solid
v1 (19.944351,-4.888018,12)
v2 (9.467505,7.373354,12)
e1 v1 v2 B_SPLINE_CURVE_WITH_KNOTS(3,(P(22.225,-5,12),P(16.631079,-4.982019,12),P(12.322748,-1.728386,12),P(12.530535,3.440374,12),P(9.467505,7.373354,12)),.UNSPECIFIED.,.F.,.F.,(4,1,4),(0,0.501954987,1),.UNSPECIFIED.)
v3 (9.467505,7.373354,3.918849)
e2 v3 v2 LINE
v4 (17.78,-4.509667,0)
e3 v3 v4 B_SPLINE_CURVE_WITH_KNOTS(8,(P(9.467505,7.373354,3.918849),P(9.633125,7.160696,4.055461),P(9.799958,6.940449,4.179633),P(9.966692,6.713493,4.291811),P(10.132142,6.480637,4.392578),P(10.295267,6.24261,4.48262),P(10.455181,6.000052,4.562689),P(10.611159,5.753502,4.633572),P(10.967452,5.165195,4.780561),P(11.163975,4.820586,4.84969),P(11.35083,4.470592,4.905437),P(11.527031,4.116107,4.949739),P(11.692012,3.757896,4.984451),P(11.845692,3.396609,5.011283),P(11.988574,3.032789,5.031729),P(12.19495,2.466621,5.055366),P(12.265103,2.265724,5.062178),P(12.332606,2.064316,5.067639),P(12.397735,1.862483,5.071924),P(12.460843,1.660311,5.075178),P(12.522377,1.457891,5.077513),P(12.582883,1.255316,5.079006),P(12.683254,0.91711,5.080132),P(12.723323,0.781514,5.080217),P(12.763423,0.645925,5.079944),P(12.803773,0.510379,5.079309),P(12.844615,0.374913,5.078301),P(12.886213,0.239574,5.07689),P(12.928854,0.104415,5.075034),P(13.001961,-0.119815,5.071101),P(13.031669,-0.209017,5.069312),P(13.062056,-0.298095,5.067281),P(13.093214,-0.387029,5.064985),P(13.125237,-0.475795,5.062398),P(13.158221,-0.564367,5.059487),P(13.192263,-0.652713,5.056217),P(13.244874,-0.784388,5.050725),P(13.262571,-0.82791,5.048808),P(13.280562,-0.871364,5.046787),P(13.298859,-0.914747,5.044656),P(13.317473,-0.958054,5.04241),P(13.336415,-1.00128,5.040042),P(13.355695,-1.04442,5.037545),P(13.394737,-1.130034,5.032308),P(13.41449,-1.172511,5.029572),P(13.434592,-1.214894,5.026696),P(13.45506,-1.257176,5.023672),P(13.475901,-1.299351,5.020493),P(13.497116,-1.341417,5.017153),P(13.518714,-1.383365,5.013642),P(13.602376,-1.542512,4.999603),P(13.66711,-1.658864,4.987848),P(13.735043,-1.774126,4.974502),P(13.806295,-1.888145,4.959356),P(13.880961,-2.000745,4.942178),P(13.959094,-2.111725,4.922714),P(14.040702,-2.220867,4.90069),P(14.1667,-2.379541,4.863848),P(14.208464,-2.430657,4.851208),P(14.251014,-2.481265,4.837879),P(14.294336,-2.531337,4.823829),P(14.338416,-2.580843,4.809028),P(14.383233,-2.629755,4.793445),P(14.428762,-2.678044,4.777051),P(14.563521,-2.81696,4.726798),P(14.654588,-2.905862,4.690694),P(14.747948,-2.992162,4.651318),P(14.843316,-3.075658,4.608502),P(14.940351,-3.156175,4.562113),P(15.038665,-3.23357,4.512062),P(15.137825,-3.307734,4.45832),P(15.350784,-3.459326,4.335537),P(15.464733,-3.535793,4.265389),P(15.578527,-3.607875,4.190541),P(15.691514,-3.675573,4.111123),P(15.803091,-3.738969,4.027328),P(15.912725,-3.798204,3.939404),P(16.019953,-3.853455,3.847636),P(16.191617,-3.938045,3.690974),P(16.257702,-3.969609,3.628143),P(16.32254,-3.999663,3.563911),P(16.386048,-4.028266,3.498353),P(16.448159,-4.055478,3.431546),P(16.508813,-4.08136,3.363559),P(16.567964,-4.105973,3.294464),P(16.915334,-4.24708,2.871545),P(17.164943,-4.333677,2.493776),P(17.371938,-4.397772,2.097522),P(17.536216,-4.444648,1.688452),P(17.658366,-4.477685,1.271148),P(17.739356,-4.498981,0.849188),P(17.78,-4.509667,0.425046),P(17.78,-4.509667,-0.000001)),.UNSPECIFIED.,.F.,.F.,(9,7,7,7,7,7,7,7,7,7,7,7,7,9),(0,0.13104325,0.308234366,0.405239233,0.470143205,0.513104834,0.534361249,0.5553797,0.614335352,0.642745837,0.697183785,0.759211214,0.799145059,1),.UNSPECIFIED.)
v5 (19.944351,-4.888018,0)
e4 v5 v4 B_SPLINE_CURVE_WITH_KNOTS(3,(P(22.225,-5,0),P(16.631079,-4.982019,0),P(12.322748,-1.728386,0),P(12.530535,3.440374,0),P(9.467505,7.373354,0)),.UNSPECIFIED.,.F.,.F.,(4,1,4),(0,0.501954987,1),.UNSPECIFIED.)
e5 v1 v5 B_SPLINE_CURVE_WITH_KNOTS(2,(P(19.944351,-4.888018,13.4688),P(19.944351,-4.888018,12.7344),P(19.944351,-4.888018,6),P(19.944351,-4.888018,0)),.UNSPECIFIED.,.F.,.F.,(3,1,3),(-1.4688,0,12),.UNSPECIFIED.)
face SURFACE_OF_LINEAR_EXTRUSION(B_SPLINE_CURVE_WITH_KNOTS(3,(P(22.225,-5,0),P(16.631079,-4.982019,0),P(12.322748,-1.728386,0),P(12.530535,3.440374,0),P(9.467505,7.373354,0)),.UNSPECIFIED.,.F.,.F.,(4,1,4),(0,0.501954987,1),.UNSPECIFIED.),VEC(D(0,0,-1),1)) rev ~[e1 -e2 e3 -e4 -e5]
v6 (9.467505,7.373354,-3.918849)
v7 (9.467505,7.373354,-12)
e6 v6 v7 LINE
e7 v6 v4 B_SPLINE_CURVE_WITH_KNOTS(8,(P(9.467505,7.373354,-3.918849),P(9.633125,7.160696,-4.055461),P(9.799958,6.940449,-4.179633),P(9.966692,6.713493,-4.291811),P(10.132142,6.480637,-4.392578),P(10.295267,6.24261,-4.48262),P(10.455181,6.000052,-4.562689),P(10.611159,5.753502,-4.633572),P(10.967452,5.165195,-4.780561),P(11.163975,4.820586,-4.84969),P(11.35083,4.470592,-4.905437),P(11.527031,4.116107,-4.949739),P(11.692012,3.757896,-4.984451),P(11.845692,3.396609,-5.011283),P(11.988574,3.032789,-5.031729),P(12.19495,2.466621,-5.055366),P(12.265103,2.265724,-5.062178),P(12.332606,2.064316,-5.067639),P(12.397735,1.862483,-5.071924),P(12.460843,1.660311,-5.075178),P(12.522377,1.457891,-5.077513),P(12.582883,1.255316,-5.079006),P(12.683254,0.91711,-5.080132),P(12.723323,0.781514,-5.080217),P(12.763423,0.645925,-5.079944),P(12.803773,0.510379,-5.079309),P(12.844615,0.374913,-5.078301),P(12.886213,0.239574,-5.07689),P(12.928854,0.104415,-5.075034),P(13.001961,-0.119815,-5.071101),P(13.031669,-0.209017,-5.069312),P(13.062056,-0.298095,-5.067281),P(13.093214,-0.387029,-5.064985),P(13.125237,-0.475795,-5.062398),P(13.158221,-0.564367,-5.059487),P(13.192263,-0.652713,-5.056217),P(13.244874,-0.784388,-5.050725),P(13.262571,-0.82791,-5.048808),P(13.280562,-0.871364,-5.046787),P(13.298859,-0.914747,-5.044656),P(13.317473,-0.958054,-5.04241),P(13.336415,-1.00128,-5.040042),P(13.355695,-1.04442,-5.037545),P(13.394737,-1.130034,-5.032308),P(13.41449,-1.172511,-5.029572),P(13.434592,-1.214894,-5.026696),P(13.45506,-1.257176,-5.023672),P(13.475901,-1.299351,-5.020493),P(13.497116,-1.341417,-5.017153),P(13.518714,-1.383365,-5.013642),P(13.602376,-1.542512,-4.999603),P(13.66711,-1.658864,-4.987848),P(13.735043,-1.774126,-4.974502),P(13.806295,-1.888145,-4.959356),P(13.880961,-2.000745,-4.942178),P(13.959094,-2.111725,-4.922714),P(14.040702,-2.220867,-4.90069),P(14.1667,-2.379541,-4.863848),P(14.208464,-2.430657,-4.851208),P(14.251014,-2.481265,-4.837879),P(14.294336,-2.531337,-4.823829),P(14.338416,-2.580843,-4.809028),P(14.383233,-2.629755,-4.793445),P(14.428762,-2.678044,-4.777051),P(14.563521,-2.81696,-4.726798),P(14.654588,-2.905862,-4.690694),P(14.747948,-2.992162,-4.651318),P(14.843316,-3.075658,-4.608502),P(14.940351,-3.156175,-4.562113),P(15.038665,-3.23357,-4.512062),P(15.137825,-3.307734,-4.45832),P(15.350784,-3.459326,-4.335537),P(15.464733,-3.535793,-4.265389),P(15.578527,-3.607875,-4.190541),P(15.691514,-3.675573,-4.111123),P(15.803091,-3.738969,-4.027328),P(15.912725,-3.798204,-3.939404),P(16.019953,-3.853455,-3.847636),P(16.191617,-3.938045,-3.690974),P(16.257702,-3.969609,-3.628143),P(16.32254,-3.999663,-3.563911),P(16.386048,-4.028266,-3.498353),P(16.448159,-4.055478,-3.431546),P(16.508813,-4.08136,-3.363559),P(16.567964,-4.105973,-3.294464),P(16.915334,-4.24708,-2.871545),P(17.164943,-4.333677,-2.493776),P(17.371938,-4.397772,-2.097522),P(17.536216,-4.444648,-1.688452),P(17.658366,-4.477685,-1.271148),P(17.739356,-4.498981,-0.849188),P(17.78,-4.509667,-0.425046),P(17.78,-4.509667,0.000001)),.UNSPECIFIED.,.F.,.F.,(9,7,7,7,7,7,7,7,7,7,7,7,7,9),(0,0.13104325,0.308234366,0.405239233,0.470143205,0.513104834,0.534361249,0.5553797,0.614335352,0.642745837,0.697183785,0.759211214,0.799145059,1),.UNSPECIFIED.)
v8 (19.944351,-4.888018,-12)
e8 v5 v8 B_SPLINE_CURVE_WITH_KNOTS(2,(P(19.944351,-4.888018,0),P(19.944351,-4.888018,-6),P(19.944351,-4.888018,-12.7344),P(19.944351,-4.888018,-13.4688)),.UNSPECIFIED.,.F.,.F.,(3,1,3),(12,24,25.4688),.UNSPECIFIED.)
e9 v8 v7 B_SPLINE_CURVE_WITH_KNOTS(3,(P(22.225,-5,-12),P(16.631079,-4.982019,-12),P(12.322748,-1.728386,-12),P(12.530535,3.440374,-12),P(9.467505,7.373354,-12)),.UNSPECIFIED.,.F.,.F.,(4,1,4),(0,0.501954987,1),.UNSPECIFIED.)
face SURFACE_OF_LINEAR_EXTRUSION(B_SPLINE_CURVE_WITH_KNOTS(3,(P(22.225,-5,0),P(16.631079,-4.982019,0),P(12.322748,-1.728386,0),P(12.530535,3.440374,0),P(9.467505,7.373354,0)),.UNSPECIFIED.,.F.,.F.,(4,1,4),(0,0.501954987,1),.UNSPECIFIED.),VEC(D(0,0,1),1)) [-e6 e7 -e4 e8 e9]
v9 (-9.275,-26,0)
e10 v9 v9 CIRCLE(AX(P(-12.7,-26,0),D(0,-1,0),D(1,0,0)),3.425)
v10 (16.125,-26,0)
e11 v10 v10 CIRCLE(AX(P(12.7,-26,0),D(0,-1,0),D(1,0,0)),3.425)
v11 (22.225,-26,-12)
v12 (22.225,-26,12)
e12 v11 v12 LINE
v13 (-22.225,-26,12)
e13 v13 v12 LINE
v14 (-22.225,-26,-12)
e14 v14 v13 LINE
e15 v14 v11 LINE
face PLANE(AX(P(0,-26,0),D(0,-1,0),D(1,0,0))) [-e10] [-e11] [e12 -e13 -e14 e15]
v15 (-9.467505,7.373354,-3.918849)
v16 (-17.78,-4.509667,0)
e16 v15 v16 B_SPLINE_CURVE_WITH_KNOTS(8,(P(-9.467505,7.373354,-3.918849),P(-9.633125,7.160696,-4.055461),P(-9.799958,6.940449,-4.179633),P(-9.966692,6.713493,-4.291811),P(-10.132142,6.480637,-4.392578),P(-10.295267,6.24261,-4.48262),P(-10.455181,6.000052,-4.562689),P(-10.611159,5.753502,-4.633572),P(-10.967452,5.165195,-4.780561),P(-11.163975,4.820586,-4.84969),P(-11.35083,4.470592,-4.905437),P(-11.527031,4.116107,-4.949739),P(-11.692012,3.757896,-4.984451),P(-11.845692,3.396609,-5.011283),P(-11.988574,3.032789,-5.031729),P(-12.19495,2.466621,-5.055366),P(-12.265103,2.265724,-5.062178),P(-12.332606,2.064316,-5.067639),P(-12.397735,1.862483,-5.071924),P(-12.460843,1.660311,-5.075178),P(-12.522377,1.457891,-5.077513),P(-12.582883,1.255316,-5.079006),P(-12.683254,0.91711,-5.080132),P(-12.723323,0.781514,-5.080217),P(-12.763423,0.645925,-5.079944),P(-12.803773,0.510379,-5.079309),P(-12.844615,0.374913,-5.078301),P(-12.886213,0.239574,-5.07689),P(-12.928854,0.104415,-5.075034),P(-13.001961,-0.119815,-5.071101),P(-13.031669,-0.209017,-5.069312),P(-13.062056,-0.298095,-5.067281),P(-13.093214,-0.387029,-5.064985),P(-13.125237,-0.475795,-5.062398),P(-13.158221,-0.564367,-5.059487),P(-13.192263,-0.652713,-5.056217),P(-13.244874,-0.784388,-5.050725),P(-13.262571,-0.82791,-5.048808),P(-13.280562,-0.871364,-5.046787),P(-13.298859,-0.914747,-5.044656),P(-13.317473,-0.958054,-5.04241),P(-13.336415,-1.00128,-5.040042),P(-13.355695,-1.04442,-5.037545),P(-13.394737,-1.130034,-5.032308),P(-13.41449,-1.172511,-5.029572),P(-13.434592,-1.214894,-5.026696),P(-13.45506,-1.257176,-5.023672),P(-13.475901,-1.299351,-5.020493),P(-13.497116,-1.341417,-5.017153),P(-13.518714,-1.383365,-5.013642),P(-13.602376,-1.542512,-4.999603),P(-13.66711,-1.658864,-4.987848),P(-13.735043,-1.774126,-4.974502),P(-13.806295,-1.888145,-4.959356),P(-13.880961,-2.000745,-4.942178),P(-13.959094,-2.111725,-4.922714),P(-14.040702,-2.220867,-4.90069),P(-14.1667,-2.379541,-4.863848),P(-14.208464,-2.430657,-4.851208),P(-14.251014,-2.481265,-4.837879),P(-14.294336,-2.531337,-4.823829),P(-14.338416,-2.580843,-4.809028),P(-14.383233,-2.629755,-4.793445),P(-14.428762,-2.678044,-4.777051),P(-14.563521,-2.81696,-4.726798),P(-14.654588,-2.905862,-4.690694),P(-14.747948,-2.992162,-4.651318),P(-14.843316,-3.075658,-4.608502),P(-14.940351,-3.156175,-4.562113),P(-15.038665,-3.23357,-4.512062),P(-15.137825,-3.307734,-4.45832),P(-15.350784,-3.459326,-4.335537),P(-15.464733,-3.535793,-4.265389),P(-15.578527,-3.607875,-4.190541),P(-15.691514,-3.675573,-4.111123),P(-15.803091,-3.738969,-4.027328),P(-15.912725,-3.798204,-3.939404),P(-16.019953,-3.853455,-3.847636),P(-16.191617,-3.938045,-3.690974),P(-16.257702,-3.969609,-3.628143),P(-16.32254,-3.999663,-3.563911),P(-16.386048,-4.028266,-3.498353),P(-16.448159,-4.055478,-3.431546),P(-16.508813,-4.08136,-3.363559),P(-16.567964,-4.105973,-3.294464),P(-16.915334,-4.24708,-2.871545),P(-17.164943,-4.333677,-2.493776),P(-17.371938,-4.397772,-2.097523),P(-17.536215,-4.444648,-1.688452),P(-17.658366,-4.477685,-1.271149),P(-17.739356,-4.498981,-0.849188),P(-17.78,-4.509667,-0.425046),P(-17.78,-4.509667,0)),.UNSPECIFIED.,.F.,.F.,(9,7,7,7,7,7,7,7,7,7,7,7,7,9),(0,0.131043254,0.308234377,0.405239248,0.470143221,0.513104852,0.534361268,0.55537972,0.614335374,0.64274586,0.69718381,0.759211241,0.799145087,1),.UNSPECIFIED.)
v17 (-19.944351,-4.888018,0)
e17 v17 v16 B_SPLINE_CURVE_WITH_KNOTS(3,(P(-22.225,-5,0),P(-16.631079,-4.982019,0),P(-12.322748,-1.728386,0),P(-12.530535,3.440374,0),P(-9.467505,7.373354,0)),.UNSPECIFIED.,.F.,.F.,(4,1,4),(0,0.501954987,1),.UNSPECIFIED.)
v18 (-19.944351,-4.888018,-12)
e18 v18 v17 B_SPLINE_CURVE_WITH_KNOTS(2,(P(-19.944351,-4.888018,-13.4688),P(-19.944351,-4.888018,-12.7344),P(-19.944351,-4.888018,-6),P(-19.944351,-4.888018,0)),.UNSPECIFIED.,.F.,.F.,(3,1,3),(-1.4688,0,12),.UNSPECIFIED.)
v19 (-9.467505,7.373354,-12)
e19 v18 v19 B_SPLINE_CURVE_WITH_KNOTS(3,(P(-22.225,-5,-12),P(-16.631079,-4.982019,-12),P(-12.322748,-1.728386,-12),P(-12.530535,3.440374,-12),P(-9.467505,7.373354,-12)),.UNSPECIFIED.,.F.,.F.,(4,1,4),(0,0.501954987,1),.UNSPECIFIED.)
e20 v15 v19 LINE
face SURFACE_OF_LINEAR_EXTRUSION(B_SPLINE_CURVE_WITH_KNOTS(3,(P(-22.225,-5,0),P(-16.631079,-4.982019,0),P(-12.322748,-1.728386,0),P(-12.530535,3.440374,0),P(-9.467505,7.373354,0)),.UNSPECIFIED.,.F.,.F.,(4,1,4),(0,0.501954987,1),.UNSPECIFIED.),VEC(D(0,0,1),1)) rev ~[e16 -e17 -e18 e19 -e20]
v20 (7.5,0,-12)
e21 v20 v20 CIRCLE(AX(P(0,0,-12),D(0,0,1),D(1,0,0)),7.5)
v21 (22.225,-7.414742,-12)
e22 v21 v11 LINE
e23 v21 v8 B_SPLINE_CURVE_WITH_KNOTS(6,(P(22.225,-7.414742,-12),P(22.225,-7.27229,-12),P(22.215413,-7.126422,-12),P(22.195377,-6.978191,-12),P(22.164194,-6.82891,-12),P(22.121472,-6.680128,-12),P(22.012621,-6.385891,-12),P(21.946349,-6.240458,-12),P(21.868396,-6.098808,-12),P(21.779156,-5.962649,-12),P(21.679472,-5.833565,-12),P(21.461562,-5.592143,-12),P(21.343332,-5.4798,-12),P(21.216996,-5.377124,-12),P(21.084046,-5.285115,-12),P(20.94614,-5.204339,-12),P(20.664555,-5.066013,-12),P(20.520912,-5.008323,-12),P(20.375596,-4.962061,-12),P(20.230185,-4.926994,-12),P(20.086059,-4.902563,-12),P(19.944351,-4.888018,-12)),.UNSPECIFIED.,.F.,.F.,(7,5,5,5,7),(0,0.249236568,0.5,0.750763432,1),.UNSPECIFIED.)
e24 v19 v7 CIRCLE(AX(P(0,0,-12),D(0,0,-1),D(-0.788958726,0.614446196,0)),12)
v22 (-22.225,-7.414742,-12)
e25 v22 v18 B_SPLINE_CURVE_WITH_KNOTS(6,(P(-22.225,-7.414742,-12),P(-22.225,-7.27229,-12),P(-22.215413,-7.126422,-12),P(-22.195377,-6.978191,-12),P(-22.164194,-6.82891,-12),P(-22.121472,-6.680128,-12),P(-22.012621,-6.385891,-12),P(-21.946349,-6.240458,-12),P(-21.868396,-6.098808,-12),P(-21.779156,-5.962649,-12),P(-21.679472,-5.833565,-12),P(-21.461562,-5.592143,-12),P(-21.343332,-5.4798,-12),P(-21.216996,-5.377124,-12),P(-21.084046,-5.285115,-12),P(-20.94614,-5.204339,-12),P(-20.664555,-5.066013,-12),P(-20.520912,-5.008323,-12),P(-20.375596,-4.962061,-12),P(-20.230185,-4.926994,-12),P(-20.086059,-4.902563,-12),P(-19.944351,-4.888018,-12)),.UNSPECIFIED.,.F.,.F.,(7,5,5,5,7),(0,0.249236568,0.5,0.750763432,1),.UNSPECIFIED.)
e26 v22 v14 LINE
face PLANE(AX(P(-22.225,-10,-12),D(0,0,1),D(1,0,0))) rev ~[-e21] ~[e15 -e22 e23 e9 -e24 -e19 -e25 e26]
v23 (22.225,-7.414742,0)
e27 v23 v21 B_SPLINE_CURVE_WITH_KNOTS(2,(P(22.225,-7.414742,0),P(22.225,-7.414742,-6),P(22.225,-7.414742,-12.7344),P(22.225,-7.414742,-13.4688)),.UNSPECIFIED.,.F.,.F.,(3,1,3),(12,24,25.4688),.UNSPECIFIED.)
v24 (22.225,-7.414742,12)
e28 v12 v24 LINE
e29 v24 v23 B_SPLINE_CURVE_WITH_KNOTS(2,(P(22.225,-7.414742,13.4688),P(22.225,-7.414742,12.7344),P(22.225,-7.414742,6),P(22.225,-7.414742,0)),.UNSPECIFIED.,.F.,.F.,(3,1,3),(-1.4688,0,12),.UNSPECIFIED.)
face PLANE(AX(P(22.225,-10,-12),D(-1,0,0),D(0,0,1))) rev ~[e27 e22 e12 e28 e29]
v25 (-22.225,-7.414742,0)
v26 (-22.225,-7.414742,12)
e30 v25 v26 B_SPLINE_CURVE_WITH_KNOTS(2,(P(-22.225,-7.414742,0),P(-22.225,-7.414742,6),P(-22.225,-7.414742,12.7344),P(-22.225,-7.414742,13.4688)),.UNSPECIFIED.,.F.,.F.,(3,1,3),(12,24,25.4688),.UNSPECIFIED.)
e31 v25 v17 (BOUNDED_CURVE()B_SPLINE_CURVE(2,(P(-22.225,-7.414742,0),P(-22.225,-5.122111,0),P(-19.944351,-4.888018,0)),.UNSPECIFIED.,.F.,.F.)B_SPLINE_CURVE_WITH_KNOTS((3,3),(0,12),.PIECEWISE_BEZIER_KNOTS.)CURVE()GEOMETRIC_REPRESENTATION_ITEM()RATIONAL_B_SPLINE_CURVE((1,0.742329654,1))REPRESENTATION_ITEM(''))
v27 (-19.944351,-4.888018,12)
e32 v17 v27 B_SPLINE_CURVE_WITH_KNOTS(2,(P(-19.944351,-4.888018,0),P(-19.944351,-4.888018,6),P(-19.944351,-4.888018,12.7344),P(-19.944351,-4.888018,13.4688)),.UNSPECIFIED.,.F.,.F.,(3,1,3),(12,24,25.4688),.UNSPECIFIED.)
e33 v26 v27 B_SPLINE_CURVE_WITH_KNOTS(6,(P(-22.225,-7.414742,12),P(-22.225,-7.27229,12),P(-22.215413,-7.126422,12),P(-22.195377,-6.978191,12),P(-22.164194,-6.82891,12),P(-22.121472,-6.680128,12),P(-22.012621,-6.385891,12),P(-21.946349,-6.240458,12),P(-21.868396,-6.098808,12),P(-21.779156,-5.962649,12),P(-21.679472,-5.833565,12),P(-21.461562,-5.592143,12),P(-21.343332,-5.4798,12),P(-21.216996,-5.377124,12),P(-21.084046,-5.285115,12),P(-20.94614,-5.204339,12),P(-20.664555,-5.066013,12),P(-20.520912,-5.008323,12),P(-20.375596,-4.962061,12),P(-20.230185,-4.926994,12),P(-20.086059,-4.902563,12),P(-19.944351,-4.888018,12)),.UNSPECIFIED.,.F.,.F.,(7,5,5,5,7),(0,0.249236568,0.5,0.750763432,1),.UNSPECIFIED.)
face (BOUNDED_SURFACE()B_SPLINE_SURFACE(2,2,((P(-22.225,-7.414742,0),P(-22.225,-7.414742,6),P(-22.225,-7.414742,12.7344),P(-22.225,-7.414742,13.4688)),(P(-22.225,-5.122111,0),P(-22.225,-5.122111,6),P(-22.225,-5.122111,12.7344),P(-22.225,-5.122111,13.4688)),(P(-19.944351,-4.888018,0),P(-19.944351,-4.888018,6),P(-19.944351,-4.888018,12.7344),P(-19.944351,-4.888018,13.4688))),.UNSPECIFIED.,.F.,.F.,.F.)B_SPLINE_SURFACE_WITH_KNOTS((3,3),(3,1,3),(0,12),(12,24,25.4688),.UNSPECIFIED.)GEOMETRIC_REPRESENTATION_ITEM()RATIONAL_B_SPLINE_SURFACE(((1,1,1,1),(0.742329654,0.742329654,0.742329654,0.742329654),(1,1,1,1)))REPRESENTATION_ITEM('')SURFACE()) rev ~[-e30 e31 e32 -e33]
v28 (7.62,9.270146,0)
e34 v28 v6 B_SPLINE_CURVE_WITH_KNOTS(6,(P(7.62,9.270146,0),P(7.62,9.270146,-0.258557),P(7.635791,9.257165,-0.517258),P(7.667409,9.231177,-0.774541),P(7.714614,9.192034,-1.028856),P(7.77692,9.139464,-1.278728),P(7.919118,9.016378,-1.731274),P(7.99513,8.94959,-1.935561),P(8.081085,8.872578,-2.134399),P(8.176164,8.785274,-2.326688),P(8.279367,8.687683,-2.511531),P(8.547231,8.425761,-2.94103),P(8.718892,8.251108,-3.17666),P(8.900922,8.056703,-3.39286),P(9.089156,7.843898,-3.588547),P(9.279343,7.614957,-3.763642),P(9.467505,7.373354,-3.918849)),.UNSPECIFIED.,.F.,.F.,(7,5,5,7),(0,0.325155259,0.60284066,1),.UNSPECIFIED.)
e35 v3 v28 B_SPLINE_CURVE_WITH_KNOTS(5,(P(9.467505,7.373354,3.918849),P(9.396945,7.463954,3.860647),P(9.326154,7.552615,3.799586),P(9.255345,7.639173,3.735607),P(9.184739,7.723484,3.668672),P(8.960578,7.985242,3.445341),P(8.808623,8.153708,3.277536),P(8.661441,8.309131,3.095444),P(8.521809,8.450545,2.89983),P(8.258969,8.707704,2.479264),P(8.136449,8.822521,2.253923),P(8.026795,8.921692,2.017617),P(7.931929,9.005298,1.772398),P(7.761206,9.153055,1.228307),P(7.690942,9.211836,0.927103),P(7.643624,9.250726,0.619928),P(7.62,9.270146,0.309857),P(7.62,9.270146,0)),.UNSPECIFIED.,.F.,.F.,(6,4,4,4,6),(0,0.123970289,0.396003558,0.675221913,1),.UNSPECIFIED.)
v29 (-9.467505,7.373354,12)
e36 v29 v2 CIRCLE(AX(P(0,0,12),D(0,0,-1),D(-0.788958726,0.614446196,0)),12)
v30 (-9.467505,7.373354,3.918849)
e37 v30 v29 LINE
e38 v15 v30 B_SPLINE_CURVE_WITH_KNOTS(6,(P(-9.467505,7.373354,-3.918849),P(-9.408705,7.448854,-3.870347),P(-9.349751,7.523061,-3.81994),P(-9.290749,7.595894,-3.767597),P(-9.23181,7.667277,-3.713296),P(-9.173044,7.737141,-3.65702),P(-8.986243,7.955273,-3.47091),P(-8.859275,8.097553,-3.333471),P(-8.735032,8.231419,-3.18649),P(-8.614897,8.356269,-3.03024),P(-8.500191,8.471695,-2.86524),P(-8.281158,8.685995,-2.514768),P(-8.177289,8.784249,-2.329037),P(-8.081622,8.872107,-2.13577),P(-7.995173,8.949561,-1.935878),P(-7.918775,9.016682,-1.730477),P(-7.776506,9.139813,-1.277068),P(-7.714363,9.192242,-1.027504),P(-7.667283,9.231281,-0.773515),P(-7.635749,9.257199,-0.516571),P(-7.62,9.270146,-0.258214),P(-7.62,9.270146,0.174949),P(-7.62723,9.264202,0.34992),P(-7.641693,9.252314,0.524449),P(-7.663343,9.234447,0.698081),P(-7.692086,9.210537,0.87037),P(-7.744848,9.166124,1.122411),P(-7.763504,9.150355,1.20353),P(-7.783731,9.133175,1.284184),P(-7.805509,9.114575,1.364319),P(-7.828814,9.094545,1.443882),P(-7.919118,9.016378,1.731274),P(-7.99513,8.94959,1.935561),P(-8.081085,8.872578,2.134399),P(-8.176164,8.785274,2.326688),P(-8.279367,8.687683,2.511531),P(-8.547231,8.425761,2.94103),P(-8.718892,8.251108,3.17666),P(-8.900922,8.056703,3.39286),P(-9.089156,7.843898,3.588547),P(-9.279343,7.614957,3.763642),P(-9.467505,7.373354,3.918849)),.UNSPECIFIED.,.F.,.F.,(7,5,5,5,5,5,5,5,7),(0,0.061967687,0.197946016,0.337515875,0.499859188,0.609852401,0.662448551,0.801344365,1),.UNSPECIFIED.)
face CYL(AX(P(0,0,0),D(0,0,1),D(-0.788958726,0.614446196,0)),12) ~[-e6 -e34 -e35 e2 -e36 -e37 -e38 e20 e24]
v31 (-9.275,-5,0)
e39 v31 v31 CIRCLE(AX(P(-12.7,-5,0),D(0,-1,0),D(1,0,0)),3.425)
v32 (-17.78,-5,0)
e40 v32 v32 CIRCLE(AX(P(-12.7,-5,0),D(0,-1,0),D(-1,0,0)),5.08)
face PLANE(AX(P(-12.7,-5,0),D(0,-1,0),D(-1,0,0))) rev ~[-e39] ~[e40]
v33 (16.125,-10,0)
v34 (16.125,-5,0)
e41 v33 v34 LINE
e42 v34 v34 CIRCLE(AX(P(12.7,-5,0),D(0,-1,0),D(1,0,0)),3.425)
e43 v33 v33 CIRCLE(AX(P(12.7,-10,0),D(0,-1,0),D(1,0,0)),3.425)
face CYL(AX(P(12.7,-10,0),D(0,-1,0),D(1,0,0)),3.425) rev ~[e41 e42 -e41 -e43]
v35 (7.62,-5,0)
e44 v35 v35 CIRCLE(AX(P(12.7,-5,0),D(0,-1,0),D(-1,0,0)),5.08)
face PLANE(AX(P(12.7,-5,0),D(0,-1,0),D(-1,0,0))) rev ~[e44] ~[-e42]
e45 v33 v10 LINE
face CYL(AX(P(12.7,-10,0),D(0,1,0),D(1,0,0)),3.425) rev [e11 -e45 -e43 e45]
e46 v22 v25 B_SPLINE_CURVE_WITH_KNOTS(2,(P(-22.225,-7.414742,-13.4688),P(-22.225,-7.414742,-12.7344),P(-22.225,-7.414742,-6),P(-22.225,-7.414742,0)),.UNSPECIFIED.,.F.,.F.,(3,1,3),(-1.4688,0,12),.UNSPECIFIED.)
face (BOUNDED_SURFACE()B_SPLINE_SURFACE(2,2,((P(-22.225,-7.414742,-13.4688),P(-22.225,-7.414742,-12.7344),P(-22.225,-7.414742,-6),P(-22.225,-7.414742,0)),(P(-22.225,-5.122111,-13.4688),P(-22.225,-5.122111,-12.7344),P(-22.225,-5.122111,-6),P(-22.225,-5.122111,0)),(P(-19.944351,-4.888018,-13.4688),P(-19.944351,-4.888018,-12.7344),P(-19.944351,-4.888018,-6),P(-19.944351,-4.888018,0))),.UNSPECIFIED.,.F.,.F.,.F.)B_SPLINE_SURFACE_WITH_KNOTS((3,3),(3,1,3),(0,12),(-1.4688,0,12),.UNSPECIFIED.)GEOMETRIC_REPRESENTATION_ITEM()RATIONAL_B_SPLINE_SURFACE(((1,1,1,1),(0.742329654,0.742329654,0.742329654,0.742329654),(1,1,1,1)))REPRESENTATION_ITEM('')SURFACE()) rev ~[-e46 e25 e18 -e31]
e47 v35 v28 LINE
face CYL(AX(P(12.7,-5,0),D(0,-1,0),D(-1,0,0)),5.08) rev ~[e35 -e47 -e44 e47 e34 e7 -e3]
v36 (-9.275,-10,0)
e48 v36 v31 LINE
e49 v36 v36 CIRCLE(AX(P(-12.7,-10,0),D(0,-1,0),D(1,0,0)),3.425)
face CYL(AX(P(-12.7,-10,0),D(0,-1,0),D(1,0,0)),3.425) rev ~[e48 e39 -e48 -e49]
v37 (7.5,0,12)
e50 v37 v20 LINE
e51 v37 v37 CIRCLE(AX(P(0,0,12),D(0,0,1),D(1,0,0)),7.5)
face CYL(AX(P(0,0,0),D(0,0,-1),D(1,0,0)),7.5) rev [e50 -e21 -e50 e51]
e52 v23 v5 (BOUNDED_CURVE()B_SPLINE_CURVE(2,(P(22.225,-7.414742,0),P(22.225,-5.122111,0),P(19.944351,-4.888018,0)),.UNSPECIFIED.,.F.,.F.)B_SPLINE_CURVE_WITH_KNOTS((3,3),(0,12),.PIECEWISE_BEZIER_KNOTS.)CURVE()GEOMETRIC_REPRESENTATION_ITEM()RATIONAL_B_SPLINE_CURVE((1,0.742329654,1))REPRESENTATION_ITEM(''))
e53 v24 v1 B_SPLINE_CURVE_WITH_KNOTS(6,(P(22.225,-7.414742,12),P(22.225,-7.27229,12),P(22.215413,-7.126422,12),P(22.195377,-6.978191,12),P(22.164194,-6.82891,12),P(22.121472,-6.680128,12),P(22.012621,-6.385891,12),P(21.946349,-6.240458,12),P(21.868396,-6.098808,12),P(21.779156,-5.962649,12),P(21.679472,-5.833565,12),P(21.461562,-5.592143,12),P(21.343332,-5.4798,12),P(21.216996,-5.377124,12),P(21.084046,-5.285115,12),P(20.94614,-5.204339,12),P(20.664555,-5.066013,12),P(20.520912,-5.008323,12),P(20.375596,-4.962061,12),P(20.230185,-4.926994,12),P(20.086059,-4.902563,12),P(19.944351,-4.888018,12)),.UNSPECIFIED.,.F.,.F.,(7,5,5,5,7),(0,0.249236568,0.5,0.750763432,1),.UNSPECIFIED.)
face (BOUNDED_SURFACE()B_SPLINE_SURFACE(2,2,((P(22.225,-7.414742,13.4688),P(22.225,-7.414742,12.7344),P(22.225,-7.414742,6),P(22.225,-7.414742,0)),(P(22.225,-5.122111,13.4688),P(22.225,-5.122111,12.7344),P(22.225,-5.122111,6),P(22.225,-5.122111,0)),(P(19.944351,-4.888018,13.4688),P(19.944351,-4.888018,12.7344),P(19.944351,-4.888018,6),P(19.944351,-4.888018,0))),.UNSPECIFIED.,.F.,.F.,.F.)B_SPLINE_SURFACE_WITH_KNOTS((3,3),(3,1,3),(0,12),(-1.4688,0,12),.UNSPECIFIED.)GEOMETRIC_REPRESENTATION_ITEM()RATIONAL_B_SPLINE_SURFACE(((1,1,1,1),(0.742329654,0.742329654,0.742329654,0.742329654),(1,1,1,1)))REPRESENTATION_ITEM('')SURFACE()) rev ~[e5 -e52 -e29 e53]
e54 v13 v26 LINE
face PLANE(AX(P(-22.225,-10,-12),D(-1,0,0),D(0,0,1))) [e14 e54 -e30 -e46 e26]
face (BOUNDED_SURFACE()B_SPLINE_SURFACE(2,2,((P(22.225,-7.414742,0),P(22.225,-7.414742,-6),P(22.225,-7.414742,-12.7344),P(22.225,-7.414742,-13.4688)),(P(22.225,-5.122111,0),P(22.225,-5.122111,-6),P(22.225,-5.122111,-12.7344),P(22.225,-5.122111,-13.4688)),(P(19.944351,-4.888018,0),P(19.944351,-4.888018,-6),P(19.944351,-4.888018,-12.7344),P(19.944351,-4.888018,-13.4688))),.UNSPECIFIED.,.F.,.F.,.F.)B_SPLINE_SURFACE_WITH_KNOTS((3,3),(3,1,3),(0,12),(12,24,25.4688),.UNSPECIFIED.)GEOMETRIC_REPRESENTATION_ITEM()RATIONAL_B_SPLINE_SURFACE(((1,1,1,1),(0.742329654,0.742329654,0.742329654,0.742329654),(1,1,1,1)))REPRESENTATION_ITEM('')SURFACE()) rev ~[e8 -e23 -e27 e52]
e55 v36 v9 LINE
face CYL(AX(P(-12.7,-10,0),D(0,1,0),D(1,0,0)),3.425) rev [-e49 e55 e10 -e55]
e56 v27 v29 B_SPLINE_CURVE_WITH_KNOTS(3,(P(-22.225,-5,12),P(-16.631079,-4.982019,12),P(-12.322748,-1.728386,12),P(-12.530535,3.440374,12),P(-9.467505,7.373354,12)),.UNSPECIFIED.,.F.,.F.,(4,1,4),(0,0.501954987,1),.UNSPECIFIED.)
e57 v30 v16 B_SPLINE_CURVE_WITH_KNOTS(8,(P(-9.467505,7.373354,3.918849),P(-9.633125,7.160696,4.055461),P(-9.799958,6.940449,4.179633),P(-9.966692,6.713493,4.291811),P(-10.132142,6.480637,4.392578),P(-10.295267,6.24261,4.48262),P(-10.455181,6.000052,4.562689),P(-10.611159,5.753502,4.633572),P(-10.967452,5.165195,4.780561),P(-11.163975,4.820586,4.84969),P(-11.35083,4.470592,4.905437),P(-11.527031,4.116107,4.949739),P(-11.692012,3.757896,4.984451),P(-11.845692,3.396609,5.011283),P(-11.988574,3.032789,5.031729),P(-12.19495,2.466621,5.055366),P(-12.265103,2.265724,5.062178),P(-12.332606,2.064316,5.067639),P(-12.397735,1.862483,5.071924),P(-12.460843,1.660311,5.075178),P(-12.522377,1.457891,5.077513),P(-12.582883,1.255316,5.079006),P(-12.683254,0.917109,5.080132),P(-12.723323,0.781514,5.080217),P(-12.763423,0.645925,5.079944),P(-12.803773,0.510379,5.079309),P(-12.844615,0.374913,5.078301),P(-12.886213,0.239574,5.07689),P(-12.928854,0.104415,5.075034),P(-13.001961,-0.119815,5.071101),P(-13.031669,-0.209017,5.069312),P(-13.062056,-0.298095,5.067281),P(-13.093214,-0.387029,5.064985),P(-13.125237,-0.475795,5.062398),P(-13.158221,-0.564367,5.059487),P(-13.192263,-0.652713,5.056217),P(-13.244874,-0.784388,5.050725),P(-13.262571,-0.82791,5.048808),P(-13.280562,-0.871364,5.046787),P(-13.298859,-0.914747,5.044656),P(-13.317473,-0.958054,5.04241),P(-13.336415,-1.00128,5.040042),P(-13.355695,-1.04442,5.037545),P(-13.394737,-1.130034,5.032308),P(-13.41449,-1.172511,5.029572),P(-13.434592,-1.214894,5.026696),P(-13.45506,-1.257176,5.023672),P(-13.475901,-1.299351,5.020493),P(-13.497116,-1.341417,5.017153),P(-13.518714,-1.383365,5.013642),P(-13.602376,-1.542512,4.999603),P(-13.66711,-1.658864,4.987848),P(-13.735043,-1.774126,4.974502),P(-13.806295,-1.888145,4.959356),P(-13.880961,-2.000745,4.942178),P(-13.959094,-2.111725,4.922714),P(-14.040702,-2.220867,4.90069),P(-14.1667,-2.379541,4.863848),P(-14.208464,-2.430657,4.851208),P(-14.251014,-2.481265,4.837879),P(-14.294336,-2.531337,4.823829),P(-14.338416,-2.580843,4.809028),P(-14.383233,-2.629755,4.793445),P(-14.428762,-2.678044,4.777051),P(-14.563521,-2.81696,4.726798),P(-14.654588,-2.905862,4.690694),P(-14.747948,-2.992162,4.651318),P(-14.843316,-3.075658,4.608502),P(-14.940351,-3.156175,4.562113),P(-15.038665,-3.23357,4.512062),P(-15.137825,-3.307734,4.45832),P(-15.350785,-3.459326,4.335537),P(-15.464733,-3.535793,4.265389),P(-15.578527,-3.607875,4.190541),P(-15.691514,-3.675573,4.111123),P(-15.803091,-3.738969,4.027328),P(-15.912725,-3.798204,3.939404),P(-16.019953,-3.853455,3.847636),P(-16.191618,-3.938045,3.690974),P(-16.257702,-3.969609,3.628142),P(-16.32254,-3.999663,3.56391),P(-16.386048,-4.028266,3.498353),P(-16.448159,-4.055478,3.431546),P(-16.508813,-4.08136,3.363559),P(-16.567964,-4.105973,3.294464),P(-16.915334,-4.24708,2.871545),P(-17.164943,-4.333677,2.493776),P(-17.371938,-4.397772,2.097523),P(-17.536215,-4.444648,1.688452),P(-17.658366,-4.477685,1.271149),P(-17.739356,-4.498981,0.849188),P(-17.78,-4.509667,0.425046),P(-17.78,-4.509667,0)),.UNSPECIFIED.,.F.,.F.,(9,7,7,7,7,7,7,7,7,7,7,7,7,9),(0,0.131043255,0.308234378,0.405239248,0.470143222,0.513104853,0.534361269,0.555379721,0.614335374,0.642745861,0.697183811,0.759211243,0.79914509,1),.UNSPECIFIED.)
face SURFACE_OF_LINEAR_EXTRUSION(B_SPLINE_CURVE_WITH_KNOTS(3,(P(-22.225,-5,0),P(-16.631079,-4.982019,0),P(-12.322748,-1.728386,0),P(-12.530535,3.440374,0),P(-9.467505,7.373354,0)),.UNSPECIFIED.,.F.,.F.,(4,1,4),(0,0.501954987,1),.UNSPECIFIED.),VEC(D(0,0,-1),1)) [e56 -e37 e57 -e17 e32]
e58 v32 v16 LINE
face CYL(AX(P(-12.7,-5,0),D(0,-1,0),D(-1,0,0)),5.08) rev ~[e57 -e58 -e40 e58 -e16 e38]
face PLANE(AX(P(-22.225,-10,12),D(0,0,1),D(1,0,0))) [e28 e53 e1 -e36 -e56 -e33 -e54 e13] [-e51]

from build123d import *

# Parameters (mm, degrees)
SKETCH1_R           = 7.5
BOSS_EXTRUDE1_DEPTH = 12
SKETCH3_R           = 3.425
CUT_EXTRUDE1_DEPTH  = 23.0000001
FILLET1_R           = 2.54
SKETCH4_R           = 5.08
CUT_EXTRUDE2_DEPTH  = 18.000000194
SKETCH5_W           = 44.45
SKETCH5_H           = 24
SKETCH5_R           = 3.425
BOSS_EXTRUDE2_DEPTH = 16


with BuildPart() as part:
    # Sketch1 → Boss-Extrude1 (new body, symmetric)
    with BuildSketch(Plane.XY):
        with BuildLine():
            Line((22.225, -10), (-22.225, -10))
            Line((-22.225, -10), (-22.225, -5))
            add(Edge.make_bspline(
                [(-22.225, -5), (-16.631079064, -4.98201906), (-12.322747723, -1.728386223), (-12.530535341, 3.440374129), (-9.467504716, 7.373354356)],
                knots=[0, 0, 0, 0, 0.501954987, 1, 1, 1, 1], degree=3))
            ThreePointArc((-9.467504716, 7.373354356), (0, 12), (9.467504716, 7.373354356))
            add(Edge.make_bspline(
                [(22.225, -5), (16.631079064, -4.98201906), (12.322747723, -1.728386223), (12.530535341, 3.440374129), (9.467504716, 7.373354356)],
                knots=[0, 0, 0, 0, 0.501954987, 1, 1, 1, 1], degree=3))
            Line((22.225, -5), (22.225, -10))
        make_face()
        Circle(SKETCH1_R, mode=Mode.SUBTRACT)
    extrude(amount=BOSS_EXTRUDE1_DEPTH, both=True)

    # Sketch3 → Cut-Extrude1 (cut, through all)
    with BuildSketch(Plane.XZ.offset(10)):
        with Locations((-12.7, 0)):
            Circle(SKETCH3_R)
        with Locations((12.7, 0)):
            Circle(SKETCH3_R)
    extrude(amount=-CUT_EXTRUDE1_DEPTH, mode=Mode.SUBTRACT)

    # Fillet1
    fillet1_edges = [part.edges().sort_by_distance(p)[0] for p in [
        (22.225, -5, -6),
        (-22.225, -5, 6),
    ]]
    fillet(fillet1_edges, radius=FILLET1_R)

    # Sketch4 → Cut-Extrude2 (cut, through all)
    with BuildSketch(Plane(origin=(0, -5.000000094, 0), x_dir=(-1, 0, 0), z_dir=(0, -1, 0))):
        with Locations((12.7, 0)):
            Circle(SKETCH4_R)
        with Locations((-12.7, 0)):
            Circle(SKETCH4_R)
    extrude(amount=-CUT_EXTRUDE2_DEPTH, mode=Mode.SUBTRACT)

    # Sketch5 → Boss-Extrude2 (add)
    with BuildSketch(Plane.XZ.offset(10)):
        Rectangle(SKETCH5_W, SKETCH5_H)
        with Locations((12.7, 0)):
            Circle(SKETCH5_R, mode=Mode.SUBTRACT)
        with Locations((-12.7, 0)):
            Circle(SKETCH5_R, mode=Mode.SUBTRACT)
    extrude(amount=BOSS_EXTRUDE2_DEPTH)


solid = part.part
